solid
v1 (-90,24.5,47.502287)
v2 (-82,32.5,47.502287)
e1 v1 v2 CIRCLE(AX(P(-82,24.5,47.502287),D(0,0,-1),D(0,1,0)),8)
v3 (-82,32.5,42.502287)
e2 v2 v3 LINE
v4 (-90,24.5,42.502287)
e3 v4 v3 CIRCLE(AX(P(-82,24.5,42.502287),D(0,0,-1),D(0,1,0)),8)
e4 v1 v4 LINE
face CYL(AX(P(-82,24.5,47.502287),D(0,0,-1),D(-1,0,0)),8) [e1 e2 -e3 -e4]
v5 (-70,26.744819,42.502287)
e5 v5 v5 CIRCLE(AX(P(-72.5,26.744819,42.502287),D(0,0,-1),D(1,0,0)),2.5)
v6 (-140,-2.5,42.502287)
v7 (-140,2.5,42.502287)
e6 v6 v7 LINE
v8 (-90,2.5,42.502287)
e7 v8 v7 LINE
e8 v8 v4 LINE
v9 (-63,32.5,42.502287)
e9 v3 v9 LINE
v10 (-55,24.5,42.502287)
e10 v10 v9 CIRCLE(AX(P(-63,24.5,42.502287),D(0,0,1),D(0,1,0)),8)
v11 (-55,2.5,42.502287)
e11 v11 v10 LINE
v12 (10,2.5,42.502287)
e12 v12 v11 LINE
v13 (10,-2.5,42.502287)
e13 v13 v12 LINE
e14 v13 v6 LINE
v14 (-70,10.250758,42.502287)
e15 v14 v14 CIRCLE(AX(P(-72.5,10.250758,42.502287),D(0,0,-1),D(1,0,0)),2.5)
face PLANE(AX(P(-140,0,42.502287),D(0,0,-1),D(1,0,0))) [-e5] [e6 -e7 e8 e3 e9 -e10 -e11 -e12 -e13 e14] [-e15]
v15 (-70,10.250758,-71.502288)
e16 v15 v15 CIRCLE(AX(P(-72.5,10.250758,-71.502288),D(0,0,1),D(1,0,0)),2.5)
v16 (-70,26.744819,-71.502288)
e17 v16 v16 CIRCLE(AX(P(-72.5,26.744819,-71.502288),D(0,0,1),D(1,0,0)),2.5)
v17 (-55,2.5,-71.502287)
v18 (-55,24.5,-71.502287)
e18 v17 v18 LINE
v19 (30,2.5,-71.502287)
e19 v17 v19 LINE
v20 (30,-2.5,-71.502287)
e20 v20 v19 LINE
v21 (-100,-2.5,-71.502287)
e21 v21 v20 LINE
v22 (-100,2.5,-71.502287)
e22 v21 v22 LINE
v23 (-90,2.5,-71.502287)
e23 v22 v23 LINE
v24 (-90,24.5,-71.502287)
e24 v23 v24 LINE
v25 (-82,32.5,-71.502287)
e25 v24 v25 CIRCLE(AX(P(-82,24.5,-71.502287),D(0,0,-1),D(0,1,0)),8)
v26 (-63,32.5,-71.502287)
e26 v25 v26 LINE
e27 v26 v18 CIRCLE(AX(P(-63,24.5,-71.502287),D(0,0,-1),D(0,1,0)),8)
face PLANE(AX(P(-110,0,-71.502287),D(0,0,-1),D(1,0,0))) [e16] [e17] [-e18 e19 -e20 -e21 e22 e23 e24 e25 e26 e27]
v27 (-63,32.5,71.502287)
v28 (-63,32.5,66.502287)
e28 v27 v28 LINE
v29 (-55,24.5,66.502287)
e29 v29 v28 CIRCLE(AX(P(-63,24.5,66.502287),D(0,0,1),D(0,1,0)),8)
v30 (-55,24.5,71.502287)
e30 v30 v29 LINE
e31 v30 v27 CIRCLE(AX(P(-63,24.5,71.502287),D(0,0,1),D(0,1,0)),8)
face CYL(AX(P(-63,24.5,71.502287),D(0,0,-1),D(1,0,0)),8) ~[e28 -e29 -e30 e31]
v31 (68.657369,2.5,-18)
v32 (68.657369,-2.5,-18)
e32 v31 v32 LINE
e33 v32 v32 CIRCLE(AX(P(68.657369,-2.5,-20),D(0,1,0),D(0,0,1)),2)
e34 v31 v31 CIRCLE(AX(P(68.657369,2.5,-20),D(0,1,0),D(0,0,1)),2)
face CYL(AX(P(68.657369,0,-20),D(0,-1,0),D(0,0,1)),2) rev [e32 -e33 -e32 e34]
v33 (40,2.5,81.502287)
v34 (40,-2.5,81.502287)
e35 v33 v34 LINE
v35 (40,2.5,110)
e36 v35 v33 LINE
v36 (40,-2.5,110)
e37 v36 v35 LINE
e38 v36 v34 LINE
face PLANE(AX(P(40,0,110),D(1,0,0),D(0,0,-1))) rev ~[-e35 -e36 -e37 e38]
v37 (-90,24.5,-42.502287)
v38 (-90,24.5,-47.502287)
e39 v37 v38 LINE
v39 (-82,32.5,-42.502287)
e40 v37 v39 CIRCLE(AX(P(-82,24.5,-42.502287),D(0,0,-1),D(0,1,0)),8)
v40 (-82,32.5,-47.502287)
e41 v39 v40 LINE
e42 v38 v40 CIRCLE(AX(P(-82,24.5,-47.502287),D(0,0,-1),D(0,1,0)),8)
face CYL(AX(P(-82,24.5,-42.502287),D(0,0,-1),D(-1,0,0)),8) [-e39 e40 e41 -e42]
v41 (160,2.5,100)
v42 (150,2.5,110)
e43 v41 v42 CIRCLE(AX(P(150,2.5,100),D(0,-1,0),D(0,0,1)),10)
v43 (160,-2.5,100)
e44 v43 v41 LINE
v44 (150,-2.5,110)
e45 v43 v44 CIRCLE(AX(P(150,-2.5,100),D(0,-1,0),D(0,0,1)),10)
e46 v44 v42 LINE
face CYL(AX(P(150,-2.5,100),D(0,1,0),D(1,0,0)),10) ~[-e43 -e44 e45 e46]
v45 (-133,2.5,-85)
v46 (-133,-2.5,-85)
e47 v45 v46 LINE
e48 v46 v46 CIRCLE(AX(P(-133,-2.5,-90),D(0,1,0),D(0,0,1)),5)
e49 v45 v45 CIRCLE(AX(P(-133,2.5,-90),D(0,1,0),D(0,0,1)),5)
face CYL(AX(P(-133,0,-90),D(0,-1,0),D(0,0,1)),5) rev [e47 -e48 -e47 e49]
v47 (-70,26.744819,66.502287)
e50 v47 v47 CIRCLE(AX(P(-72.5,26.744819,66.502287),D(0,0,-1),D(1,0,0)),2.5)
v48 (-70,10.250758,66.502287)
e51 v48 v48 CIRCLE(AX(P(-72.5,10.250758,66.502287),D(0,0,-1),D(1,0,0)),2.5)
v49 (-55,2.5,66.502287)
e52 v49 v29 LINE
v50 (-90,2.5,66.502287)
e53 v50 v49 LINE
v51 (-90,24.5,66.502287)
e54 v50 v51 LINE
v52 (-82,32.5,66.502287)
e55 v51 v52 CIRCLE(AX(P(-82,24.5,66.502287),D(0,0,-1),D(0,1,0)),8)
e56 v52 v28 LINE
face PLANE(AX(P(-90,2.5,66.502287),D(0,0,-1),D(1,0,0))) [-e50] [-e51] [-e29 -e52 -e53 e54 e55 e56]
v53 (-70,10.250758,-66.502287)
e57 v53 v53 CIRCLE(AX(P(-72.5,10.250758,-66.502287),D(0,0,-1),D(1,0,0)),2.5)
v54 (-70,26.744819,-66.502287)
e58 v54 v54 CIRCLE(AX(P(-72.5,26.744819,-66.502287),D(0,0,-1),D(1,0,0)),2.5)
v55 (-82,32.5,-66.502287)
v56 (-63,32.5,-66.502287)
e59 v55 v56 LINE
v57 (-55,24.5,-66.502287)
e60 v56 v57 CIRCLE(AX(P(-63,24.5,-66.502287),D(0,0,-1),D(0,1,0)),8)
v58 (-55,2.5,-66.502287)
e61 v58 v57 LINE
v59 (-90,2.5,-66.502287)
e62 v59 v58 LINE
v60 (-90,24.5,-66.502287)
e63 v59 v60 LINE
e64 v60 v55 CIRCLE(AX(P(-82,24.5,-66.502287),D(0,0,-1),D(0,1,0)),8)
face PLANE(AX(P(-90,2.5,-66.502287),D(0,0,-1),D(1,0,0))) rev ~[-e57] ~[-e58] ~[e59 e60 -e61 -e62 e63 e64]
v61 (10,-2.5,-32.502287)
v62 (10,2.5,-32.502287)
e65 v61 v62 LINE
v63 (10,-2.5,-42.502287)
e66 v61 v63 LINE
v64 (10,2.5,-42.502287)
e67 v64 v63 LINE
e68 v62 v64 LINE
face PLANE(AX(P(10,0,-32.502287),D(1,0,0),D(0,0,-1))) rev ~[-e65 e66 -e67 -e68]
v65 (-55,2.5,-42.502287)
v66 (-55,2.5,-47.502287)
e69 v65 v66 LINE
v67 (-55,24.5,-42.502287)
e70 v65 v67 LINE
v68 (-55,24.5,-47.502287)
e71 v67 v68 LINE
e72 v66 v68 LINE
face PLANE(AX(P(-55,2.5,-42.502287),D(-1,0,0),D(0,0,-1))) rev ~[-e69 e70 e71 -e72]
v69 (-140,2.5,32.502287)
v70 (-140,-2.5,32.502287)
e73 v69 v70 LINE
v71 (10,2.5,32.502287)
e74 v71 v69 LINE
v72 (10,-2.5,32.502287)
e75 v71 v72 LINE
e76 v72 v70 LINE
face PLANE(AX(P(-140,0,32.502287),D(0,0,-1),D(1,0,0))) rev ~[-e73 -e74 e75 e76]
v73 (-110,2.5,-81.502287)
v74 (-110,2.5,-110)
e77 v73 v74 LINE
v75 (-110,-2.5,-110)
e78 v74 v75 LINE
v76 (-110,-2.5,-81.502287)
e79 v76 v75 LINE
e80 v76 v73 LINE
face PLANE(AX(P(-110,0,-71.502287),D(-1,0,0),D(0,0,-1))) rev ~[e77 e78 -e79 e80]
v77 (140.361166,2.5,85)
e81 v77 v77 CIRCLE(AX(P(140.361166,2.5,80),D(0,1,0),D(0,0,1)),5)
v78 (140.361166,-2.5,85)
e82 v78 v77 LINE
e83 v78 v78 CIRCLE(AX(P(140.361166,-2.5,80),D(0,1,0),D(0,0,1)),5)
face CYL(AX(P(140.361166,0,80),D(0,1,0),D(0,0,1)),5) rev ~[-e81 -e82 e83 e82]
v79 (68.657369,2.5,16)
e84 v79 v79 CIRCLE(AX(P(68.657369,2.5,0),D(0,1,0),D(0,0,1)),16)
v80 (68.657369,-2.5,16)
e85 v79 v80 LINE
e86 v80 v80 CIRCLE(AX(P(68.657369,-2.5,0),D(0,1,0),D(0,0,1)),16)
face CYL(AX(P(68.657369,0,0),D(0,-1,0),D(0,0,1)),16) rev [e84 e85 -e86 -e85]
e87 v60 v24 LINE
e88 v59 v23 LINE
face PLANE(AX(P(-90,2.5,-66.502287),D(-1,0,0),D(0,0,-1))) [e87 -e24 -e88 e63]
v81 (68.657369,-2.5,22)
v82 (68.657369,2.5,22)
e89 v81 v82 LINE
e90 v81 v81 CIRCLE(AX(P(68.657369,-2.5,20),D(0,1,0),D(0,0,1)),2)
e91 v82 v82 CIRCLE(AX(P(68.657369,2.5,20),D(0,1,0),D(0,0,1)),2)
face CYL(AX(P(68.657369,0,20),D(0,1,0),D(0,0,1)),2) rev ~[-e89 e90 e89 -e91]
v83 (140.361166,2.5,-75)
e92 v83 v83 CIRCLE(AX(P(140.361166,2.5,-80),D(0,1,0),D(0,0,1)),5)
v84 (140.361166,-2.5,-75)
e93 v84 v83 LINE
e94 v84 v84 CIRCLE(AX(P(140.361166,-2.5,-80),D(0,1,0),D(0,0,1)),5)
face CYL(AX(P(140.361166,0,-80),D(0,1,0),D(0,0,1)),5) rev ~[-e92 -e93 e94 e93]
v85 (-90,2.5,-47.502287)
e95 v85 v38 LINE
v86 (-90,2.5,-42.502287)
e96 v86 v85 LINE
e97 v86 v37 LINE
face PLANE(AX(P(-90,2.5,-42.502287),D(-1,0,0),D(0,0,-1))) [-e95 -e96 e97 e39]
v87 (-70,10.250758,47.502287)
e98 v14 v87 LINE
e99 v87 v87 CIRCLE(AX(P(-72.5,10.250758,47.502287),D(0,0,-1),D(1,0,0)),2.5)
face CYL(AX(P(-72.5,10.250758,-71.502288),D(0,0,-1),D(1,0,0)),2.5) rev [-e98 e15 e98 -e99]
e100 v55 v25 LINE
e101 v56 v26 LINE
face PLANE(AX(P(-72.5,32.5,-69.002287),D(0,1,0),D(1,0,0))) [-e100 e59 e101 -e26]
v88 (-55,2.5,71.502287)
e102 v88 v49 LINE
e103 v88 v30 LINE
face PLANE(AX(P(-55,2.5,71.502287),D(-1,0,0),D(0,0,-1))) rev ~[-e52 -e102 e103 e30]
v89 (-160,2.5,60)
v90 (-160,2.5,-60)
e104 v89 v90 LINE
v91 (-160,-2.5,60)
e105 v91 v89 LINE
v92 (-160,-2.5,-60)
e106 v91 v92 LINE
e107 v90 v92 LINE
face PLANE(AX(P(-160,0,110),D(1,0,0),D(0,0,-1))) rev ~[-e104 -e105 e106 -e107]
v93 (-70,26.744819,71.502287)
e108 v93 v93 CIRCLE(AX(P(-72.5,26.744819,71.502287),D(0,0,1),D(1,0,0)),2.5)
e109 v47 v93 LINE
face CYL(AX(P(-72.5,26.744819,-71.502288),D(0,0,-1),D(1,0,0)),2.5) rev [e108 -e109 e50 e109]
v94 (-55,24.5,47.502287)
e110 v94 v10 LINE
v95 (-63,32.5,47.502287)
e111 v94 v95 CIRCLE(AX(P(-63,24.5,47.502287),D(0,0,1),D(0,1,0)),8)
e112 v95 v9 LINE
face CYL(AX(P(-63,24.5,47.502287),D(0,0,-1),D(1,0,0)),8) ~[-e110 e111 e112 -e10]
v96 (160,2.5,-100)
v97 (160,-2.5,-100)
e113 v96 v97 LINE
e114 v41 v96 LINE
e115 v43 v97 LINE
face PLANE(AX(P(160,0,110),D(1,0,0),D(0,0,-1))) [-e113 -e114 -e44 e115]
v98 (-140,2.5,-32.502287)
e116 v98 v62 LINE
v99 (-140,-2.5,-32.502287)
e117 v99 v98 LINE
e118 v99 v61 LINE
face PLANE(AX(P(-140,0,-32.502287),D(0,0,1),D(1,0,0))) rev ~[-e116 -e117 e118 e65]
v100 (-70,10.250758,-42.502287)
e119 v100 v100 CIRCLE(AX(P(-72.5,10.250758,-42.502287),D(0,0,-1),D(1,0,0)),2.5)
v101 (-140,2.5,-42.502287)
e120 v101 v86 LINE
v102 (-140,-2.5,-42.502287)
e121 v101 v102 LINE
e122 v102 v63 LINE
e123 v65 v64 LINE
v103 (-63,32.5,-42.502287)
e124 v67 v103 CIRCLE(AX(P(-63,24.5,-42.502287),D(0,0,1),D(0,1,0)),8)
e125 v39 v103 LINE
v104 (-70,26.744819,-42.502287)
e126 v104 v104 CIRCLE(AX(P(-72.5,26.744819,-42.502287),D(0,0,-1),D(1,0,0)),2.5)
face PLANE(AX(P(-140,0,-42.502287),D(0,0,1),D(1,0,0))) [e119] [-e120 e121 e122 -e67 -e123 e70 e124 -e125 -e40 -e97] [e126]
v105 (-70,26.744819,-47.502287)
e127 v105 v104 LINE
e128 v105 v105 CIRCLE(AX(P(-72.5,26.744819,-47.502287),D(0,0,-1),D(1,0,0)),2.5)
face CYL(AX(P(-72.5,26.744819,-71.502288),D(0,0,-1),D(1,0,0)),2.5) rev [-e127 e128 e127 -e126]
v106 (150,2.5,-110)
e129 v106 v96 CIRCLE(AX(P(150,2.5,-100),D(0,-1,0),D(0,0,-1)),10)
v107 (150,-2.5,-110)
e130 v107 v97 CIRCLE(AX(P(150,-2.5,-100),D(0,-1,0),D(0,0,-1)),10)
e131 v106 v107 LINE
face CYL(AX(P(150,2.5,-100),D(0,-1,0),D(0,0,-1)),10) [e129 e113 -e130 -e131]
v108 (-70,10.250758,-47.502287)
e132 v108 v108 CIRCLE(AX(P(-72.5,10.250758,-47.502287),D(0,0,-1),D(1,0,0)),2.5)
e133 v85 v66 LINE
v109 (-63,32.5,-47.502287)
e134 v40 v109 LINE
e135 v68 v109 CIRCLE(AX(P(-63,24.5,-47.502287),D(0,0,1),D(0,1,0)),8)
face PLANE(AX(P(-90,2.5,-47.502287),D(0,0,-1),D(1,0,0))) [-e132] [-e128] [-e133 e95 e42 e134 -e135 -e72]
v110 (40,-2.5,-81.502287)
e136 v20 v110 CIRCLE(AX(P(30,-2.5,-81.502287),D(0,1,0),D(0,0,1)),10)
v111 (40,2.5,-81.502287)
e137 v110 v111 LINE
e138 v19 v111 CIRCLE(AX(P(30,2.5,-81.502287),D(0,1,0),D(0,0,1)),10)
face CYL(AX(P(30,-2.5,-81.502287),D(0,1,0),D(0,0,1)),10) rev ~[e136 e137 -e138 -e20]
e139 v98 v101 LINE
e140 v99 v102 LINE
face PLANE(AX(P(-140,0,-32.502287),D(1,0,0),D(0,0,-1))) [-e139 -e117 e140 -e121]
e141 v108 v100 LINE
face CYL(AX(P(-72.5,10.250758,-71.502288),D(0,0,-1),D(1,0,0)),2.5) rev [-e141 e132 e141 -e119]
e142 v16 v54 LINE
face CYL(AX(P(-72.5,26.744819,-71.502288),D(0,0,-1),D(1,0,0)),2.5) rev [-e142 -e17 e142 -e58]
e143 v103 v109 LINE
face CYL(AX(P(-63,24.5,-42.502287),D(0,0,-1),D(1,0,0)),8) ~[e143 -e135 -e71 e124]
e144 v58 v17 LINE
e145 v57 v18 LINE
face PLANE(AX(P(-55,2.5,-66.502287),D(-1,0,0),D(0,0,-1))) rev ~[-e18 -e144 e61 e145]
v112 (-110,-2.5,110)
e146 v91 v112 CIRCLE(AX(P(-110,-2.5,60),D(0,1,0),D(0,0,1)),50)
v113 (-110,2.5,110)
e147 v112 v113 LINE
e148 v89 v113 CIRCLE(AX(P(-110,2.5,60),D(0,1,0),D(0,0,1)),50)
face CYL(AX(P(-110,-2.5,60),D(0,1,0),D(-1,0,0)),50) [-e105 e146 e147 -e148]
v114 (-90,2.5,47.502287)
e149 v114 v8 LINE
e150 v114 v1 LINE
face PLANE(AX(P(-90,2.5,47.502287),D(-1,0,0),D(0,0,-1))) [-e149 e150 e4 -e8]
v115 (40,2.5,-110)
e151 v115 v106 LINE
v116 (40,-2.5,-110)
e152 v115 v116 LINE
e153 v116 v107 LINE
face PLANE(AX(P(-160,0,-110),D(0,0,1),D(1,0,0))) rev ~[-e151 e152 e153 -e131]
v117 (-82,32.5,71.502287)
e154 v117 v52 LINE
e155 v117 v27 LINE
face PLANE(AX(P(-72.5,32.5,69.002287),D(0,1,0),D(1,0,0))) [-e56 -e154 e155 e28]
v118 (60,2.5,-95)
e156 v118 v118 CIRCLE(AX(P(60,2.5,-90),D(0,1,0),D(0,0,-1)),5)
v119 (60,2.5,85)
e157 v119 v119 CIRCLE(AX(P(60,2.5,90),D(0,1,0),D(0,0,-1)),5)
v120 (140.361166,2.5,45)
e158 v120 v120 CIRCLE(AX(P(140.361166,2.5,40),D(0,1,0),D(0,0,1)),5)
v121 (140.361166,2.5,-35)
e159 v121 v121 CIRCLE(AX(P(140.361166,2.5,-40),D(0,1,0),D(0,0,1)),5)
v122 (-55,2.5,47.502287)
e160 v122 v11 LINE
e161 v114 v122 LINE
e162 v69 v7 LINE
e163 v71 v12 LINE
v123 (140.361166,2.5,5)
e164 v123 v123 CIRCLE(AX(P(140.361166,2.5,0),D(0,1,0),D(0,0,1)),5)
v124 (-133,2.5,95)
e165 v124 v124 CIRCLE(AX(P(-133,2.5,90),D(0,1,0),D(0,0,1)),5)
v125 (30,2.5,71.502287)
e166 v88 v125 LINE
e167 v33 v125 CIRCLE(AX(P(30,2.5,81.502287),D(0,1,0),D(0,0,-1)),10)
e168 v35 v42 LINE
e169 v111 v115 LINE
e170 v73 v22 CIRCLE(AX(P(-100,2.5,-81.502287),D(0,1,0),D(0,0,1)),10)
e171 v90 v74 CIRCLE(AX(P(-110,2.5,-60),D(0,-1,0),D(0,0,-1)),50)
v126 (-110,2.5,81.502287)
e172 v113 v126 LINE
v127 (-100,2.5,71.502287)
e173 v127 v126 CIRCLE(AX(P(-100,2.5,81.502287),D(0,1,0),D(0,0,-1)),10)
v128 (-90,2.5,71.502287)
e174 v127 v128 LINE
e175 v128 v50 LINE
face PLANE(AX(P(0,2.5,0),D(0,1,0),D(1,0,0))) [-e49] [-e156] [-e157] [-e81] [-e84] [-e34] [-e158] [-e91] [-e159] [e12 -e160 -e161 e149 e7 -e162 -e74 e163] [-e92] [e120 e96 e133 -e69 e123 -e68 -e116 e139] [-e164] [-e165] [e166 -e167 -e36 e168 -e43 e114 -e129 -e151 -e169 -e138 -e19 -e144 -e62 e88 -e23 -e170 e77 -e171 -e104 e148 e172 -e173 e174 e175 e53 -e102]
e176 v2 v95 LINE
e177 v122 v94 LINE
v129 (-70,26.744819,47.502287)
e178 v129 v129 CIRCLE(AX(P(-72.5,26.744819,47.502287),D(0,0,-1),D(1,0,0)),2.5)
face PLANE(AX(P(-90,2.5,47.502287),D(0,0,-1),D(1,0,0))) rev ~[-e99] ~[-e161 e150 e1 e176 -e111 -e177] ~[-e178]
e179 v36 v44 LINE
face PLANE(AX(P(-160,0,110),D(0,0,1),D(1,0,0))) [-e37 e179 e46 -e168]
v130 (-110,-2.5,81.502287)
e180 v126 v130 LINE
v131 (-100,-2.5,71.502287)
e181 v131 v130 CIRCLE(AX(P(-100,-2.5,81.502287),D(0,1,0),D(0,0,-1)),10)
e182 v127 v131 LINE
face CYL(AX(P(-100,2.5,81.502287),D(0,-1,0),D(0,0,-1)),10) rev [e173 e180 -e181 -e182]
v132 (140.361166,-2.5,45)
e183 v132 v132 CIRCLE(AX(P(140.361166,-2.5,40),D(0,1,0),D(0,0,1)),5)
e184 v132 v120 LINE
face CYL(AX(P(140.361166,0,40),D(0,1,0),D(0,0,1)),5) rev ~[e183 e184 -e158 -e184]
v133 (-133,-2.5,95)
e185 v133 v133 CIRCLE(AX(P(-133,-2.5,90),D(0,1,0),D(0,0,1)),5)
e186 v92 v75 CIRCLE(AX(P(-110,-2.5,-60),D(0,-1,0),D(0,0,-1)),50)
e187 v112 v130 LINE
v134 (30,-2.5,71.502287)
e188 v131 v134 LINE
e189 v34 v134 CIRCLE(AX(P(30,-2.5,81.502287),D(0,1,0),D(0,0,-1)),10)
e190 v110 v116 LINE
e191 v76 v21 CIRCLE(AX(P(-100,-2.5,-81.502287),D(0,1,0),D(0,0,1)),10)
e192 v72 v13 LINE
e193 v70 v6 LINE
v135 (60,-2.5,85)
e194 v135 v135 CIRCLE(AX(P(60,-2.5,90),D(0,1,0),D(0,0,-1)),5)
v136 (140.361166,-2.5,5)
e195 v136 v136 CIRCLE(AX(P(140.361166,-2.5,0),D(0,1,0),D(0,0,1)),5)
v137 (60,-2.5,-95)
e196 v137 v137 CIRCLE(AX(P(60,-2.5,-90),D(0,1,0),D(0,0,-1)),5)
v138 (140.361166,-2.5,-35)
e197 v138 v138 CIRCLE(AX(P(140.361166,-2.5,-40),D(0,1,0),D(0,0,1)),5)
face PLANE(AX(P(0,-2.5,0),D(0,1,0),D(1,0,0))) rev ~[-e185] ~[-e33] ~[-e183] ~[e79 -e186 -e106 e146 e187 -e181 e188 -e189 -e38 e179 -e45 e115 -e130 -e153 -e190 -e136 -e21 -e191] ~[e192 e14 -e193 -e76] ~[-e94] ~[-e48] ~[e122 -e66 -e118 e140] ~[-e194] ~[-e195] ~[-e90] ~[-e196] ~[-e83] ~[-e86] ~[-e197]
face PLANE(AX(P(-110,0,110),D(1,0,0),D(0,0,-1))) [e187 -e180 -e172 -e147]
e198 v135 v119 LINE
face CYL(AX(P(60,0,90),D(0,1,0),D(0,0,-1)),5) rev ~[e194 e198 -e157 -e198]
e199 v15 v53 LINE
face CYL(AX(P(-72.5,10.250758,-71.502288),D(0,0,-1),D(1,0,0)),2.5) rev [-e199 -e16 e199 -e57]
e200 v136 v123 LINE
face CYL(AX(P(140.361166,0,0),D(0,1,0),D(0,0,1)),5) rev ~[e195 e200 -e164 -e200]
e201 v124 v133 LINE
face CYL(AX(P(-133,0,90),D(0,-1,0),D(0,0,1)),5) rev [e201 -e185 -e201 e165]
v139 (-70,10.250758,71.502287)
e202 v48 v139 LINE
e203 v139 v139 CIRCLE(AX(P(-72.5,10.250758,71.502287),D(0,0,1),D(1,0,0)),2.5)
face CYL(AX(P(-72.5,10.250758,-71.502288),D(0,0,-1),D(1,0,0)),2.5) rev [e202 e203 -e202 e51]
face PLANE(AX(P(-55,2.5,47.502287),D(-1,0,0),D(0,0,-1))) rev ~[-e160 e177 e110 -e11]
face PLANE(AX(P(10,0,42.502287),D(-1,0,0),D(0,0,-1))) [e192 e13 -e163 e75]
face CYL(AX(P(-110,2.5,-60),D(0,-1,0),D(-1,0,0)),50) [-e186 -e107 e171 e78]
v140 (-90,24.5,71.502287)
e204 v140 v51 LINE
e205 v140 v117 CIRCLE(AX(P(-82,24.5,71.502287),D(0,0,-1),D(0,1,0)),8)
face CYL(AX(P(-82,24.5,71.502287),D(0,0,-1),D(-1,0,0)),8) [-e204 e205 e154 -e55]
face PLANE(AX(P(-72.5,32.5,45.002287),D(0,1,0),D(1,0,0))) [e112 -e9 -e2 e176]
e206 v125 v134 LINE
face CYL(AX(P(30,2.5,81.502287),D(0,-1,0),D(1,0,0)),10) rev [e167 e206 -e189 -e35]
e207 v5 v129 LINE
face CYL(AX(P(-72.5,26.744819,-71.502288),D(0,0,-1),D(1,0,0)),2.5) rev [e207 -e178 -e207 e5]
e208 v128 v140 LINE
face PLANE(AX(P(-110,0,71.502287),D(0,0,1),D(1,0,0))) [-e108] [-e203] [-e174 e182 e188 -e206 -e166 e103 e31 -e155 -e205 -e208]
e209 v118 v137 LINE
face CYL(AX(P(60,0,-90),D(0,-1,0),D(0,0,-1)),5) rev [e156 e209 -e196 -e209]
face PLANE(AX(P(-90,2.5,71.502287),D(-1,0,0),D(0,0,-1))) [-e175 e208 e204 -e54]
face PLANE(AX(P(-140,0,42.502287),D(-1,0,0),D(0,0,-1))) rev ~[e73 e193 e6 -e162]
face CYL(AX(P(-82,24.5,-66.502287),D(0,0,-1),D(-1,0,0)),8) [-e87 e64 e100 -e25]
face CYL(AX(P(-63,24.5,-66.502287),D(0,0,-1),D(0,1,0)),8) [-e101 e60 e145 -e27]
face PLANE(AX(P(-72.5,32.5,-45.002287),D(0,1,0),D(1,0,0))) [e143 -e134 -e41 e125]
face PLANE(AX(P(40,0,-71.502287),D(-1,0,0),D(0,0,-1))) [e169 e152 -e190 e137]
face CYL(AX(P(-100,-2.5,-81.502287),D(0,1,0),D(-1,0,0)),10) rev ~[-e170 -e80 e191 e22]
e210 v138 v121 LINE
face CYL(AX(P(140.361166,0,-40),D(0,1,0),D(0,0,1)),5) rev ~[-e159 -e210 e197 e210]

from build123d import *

# Parameters (mm, degrees)
SKETCH1_W           = 320
SKETCH1_H           = 220
BOSS_EXTRUDE1_DEPTH = 2.5
SKETCH2_R           = 5
CUT_EXTRUDE1_DEPTH  = 2.5
FILLET5_R           = 50
SKETCH3_W           = 150
SKETCH3_H           = 38.497712582
CUT_EXTRUDE2_DEPTH  = 2.5
FILLET3_R           = 10
SKETCH4_R           = 16
SKETCH4_R_2         = 2
CUT_EXTRUDE3_DEPTH  = 2.5
SKETCH6_R           = 5
CUT_EXTRUDE4_DEPTH  = 2.5
LPATTERN1_COUNT     = 3
LPATTERN1_PITCH     = 40
LPATTERN2_COUNT     = 3
LPATTERN2_PITCH     = 40
SKETCH8_W           = 35
SKETCH8_H           = 5
BOSS_EXTRUDE2_DEPTH = 30
CUT_EXTRUDE5_START  = -143.004575
SKETCH9_R           = 2.5
CUT_EXTRUDE5_DEPTH  = 143.004575
FILLET6_R           = 8
SKETCH10_W          = 150
SKETCH10_H          = 10
CUT_EXTRUDE6_DEPTH  = 33.75
FILLET7_R           = 10


with BuildPart() as part:
    # Sketch1 → Boss-Extrude1 (new, symmetric)
    with BuildSketch(Plane(origin=(0, 0, 0), x_dir=(1, 0, 0), z_dir=(0, 1, 0))):
        Rectangle(SKETCH1_W, SKETCH1_H)
    extrude(amount=BOSS_EXTRUDE1_DEPTH, both=True)

    # Sketch2 → Cut-Extrude1 (cut, symmetric)
    with BuildSketch(Plane(origin=(0, 0, 0), x_dir=(1, 0, 0), z_dir=(0, 1, 0))):
        with Locations(Location((-133, 90, 0), (0, 0, 270))):
            Circle(SKETCH2_R)
        with Locations(Location((-133, -90, 0), (0, 0, 270))):
            Circle(SKETCH2_R)
        with Locations(Location((60, 90, 0), (0, 0, 90))):
            Circle(SKETCH2_R)
        with Locations(Location((60, -90, 0), (0, 0, 90))):
            Circle(SKETCH2_R)
    extrude(amount=CUT_EXTRUDE1_DEPTH, both=True, mode=Mode.SUBTRACT)

    # Fillet5
    fillet5_edges = [part.edges().sort_by_distance(p)[0] for p in [
        (-160, 0, 110),
        (-160, 0, -110),
    ]]
    fillet(fillet5_edges, radius=FILLET5_R)

    # Sketch3 → Cut-Extrude2 (cut, symmetric)
    with BuildSketch(Plane(origin=(0, 0, 0), x_dir=(1, 0, 0), z_dir=(0, 1, 0))):
        with Locations((-35, 90.751143709)):
            Rectangle(SKETCH3_W, SKETCH3_H)
        with Locations((-35, -90.751143709)):
            Rectangle(SKETCH3_W, SKETCH3_H)
    extrude(amount=CUT_EXTRUDE2_DEPTH, both=True, mode=Mode.SUBTRACT)

    # Fillet3
    fillet3_edges = [part.edges().sort_by_distance(p)[0] for p in [
        (40, 0, -71.502287418),
        (-110, 0, -71.502287418),
        (-110, 0, 71.502287418),
        (40, 0, 71.502287418),
    ]]
    fillet(fillet3_edges, radius=FILLET3_R)

    # Sketch4 → Cut-Extrude3 (cut, symmetric)
    with BuildSketch(Plane(origin=(0, 0, 0), x_dir=(1, 0, 0), z_dir=(0, 1, 0))):
        with Locations(Location((68.657368821, 0, 0), (0, 0, 270))):
            Circle(SKETCH4_R)
        with Locations(Location((68.657368821, 20, 0), (0, 0, 270))):
            Circle(SKETCH4_R_2)
        with Locations(Location((68.657368821, -20, 0), (0, 0, 270))):
            Circle(SKETCH4_R_2)
    extrude(amount=CUT_EXTRUDE3_DEPTH, both=True, mode=Mode.SUBTRACT)

    # Sketch6 → Cut-Extrude4 (cut, symmetric)
    with BuildSketch(Plane(origin=(0, 0, 0), x_dir=(1, 0, 0), z_dir=(0, 1, 0))):
        with Locations(Location((140.361166029, 0, 0), (0, 0, 270))):
            Circle(SKETCH6_R)
    cut_extrude4 = extrude(amount=CUT_EXTRUDE4_DEPTH, both=True, mode=Mode.SUBTRACT)

    # LPattern1: Cut-Extrude4 ×3
    with Locations(*[(0, 0, -i * LPATTERN1_PITCH) for i in range(1, LPATTERN1_COUNT)]):
        add(cut_extrude4, mode=Mode.SUBTRACT)

    # LPattern2: Cut-Extrude4 ×3
    with Locations(*[(0, 0, i * LPATTERN2_PITCH) for i in range(1, LPATTERN2_COUNT)]):
        add(cut_extrude4, mode=Mode.SUBTRACT)

    # Sketch8 → Boss-Extrude2 (add)
    with BuildSketch(Plane(origin=(0, 2.5, 0), x_dir=(1, 0, 0), z_dir=(0, 1, 0))):
        with Locations((-72.5, -69.002287418)):
            Rectangle(SKETCH8_W, SKETCH8_H)
        with Locations((-72.5, -45.002287418)):
            Rectangle(SKETCH8_W, SKETCH8_H)
        with Locations((-72.5, 45.002287418)):
            Rectangle(SKETCH8_W, SKETCH8_H)
        with Locations((-72.5, 69.002287418)):
            Rectangle(SKETCH8_W, SKETCH8_H)
    extrude(amount=BOSS_EXTRUDE2_DEPTH)

    # Sketch9 → Cut-Extrude5 (cut)
    with BuildSketch(Plane.XY.offset(71.502287418).offset(CUT_EXTRUDE5_START)):
        with Locations((-72.5, 26.744818561)):
            Circle(SKETCH9_R)
        with Locations((-72.5, 10.250757787)):
            Circle(SKETCH9_R)
    extrude(amount=CUT_EXTRUDE5_DEPTH, mode=Mode.SUBTRACT)

    # Fillet6
    fillet6_edges = [part.edges().sort_by_distance(p)[0] for p in [
        (-90, 32.5, 69.002287418),
        (-55, 32.5, 69.002287418),
        (-90, 32.5, 45.002287418),
        (-55, 32.5, 45.002287418),
        (-90, 32.5, -45.002287418),
        (-55, 32.5, -45.002287418),
        (-90, 32.5, -69.002287418),
        (-55, 32.5, -69.002287418),
    ]]
    fillet(fillet6_edges, radius=FILLET6_R)

    # Sketch10 → Cut-Extrude6 (cut, symmetric)
    with BuildSketch(Plane(origin=(0, 0, 0), x_dir=(1, 0, 0), z_dir=(0, 1, 0))):
        with Locations((-65, -37.502287418)):
            Rectangle(SKETCH10_W, SKETCH10_H)
        with Locations((-65, 37.502287418)):
            Rectangle(SKETCH10_W, SKETCH10_H)
    extrude(amount=CUT_EXTRUDE6_DEPTH, both=True, mode=Mode.SUBTRACT)

    # Fillet7
    fillet7_edges = [part.edges().sort_by_distance(p)[0] for p in [
        (160, 0, 110),
        (160, 0, -110),
    ]]
    fillet(fillet7_edges, radius=FILLET7_R)


solid = part.part
